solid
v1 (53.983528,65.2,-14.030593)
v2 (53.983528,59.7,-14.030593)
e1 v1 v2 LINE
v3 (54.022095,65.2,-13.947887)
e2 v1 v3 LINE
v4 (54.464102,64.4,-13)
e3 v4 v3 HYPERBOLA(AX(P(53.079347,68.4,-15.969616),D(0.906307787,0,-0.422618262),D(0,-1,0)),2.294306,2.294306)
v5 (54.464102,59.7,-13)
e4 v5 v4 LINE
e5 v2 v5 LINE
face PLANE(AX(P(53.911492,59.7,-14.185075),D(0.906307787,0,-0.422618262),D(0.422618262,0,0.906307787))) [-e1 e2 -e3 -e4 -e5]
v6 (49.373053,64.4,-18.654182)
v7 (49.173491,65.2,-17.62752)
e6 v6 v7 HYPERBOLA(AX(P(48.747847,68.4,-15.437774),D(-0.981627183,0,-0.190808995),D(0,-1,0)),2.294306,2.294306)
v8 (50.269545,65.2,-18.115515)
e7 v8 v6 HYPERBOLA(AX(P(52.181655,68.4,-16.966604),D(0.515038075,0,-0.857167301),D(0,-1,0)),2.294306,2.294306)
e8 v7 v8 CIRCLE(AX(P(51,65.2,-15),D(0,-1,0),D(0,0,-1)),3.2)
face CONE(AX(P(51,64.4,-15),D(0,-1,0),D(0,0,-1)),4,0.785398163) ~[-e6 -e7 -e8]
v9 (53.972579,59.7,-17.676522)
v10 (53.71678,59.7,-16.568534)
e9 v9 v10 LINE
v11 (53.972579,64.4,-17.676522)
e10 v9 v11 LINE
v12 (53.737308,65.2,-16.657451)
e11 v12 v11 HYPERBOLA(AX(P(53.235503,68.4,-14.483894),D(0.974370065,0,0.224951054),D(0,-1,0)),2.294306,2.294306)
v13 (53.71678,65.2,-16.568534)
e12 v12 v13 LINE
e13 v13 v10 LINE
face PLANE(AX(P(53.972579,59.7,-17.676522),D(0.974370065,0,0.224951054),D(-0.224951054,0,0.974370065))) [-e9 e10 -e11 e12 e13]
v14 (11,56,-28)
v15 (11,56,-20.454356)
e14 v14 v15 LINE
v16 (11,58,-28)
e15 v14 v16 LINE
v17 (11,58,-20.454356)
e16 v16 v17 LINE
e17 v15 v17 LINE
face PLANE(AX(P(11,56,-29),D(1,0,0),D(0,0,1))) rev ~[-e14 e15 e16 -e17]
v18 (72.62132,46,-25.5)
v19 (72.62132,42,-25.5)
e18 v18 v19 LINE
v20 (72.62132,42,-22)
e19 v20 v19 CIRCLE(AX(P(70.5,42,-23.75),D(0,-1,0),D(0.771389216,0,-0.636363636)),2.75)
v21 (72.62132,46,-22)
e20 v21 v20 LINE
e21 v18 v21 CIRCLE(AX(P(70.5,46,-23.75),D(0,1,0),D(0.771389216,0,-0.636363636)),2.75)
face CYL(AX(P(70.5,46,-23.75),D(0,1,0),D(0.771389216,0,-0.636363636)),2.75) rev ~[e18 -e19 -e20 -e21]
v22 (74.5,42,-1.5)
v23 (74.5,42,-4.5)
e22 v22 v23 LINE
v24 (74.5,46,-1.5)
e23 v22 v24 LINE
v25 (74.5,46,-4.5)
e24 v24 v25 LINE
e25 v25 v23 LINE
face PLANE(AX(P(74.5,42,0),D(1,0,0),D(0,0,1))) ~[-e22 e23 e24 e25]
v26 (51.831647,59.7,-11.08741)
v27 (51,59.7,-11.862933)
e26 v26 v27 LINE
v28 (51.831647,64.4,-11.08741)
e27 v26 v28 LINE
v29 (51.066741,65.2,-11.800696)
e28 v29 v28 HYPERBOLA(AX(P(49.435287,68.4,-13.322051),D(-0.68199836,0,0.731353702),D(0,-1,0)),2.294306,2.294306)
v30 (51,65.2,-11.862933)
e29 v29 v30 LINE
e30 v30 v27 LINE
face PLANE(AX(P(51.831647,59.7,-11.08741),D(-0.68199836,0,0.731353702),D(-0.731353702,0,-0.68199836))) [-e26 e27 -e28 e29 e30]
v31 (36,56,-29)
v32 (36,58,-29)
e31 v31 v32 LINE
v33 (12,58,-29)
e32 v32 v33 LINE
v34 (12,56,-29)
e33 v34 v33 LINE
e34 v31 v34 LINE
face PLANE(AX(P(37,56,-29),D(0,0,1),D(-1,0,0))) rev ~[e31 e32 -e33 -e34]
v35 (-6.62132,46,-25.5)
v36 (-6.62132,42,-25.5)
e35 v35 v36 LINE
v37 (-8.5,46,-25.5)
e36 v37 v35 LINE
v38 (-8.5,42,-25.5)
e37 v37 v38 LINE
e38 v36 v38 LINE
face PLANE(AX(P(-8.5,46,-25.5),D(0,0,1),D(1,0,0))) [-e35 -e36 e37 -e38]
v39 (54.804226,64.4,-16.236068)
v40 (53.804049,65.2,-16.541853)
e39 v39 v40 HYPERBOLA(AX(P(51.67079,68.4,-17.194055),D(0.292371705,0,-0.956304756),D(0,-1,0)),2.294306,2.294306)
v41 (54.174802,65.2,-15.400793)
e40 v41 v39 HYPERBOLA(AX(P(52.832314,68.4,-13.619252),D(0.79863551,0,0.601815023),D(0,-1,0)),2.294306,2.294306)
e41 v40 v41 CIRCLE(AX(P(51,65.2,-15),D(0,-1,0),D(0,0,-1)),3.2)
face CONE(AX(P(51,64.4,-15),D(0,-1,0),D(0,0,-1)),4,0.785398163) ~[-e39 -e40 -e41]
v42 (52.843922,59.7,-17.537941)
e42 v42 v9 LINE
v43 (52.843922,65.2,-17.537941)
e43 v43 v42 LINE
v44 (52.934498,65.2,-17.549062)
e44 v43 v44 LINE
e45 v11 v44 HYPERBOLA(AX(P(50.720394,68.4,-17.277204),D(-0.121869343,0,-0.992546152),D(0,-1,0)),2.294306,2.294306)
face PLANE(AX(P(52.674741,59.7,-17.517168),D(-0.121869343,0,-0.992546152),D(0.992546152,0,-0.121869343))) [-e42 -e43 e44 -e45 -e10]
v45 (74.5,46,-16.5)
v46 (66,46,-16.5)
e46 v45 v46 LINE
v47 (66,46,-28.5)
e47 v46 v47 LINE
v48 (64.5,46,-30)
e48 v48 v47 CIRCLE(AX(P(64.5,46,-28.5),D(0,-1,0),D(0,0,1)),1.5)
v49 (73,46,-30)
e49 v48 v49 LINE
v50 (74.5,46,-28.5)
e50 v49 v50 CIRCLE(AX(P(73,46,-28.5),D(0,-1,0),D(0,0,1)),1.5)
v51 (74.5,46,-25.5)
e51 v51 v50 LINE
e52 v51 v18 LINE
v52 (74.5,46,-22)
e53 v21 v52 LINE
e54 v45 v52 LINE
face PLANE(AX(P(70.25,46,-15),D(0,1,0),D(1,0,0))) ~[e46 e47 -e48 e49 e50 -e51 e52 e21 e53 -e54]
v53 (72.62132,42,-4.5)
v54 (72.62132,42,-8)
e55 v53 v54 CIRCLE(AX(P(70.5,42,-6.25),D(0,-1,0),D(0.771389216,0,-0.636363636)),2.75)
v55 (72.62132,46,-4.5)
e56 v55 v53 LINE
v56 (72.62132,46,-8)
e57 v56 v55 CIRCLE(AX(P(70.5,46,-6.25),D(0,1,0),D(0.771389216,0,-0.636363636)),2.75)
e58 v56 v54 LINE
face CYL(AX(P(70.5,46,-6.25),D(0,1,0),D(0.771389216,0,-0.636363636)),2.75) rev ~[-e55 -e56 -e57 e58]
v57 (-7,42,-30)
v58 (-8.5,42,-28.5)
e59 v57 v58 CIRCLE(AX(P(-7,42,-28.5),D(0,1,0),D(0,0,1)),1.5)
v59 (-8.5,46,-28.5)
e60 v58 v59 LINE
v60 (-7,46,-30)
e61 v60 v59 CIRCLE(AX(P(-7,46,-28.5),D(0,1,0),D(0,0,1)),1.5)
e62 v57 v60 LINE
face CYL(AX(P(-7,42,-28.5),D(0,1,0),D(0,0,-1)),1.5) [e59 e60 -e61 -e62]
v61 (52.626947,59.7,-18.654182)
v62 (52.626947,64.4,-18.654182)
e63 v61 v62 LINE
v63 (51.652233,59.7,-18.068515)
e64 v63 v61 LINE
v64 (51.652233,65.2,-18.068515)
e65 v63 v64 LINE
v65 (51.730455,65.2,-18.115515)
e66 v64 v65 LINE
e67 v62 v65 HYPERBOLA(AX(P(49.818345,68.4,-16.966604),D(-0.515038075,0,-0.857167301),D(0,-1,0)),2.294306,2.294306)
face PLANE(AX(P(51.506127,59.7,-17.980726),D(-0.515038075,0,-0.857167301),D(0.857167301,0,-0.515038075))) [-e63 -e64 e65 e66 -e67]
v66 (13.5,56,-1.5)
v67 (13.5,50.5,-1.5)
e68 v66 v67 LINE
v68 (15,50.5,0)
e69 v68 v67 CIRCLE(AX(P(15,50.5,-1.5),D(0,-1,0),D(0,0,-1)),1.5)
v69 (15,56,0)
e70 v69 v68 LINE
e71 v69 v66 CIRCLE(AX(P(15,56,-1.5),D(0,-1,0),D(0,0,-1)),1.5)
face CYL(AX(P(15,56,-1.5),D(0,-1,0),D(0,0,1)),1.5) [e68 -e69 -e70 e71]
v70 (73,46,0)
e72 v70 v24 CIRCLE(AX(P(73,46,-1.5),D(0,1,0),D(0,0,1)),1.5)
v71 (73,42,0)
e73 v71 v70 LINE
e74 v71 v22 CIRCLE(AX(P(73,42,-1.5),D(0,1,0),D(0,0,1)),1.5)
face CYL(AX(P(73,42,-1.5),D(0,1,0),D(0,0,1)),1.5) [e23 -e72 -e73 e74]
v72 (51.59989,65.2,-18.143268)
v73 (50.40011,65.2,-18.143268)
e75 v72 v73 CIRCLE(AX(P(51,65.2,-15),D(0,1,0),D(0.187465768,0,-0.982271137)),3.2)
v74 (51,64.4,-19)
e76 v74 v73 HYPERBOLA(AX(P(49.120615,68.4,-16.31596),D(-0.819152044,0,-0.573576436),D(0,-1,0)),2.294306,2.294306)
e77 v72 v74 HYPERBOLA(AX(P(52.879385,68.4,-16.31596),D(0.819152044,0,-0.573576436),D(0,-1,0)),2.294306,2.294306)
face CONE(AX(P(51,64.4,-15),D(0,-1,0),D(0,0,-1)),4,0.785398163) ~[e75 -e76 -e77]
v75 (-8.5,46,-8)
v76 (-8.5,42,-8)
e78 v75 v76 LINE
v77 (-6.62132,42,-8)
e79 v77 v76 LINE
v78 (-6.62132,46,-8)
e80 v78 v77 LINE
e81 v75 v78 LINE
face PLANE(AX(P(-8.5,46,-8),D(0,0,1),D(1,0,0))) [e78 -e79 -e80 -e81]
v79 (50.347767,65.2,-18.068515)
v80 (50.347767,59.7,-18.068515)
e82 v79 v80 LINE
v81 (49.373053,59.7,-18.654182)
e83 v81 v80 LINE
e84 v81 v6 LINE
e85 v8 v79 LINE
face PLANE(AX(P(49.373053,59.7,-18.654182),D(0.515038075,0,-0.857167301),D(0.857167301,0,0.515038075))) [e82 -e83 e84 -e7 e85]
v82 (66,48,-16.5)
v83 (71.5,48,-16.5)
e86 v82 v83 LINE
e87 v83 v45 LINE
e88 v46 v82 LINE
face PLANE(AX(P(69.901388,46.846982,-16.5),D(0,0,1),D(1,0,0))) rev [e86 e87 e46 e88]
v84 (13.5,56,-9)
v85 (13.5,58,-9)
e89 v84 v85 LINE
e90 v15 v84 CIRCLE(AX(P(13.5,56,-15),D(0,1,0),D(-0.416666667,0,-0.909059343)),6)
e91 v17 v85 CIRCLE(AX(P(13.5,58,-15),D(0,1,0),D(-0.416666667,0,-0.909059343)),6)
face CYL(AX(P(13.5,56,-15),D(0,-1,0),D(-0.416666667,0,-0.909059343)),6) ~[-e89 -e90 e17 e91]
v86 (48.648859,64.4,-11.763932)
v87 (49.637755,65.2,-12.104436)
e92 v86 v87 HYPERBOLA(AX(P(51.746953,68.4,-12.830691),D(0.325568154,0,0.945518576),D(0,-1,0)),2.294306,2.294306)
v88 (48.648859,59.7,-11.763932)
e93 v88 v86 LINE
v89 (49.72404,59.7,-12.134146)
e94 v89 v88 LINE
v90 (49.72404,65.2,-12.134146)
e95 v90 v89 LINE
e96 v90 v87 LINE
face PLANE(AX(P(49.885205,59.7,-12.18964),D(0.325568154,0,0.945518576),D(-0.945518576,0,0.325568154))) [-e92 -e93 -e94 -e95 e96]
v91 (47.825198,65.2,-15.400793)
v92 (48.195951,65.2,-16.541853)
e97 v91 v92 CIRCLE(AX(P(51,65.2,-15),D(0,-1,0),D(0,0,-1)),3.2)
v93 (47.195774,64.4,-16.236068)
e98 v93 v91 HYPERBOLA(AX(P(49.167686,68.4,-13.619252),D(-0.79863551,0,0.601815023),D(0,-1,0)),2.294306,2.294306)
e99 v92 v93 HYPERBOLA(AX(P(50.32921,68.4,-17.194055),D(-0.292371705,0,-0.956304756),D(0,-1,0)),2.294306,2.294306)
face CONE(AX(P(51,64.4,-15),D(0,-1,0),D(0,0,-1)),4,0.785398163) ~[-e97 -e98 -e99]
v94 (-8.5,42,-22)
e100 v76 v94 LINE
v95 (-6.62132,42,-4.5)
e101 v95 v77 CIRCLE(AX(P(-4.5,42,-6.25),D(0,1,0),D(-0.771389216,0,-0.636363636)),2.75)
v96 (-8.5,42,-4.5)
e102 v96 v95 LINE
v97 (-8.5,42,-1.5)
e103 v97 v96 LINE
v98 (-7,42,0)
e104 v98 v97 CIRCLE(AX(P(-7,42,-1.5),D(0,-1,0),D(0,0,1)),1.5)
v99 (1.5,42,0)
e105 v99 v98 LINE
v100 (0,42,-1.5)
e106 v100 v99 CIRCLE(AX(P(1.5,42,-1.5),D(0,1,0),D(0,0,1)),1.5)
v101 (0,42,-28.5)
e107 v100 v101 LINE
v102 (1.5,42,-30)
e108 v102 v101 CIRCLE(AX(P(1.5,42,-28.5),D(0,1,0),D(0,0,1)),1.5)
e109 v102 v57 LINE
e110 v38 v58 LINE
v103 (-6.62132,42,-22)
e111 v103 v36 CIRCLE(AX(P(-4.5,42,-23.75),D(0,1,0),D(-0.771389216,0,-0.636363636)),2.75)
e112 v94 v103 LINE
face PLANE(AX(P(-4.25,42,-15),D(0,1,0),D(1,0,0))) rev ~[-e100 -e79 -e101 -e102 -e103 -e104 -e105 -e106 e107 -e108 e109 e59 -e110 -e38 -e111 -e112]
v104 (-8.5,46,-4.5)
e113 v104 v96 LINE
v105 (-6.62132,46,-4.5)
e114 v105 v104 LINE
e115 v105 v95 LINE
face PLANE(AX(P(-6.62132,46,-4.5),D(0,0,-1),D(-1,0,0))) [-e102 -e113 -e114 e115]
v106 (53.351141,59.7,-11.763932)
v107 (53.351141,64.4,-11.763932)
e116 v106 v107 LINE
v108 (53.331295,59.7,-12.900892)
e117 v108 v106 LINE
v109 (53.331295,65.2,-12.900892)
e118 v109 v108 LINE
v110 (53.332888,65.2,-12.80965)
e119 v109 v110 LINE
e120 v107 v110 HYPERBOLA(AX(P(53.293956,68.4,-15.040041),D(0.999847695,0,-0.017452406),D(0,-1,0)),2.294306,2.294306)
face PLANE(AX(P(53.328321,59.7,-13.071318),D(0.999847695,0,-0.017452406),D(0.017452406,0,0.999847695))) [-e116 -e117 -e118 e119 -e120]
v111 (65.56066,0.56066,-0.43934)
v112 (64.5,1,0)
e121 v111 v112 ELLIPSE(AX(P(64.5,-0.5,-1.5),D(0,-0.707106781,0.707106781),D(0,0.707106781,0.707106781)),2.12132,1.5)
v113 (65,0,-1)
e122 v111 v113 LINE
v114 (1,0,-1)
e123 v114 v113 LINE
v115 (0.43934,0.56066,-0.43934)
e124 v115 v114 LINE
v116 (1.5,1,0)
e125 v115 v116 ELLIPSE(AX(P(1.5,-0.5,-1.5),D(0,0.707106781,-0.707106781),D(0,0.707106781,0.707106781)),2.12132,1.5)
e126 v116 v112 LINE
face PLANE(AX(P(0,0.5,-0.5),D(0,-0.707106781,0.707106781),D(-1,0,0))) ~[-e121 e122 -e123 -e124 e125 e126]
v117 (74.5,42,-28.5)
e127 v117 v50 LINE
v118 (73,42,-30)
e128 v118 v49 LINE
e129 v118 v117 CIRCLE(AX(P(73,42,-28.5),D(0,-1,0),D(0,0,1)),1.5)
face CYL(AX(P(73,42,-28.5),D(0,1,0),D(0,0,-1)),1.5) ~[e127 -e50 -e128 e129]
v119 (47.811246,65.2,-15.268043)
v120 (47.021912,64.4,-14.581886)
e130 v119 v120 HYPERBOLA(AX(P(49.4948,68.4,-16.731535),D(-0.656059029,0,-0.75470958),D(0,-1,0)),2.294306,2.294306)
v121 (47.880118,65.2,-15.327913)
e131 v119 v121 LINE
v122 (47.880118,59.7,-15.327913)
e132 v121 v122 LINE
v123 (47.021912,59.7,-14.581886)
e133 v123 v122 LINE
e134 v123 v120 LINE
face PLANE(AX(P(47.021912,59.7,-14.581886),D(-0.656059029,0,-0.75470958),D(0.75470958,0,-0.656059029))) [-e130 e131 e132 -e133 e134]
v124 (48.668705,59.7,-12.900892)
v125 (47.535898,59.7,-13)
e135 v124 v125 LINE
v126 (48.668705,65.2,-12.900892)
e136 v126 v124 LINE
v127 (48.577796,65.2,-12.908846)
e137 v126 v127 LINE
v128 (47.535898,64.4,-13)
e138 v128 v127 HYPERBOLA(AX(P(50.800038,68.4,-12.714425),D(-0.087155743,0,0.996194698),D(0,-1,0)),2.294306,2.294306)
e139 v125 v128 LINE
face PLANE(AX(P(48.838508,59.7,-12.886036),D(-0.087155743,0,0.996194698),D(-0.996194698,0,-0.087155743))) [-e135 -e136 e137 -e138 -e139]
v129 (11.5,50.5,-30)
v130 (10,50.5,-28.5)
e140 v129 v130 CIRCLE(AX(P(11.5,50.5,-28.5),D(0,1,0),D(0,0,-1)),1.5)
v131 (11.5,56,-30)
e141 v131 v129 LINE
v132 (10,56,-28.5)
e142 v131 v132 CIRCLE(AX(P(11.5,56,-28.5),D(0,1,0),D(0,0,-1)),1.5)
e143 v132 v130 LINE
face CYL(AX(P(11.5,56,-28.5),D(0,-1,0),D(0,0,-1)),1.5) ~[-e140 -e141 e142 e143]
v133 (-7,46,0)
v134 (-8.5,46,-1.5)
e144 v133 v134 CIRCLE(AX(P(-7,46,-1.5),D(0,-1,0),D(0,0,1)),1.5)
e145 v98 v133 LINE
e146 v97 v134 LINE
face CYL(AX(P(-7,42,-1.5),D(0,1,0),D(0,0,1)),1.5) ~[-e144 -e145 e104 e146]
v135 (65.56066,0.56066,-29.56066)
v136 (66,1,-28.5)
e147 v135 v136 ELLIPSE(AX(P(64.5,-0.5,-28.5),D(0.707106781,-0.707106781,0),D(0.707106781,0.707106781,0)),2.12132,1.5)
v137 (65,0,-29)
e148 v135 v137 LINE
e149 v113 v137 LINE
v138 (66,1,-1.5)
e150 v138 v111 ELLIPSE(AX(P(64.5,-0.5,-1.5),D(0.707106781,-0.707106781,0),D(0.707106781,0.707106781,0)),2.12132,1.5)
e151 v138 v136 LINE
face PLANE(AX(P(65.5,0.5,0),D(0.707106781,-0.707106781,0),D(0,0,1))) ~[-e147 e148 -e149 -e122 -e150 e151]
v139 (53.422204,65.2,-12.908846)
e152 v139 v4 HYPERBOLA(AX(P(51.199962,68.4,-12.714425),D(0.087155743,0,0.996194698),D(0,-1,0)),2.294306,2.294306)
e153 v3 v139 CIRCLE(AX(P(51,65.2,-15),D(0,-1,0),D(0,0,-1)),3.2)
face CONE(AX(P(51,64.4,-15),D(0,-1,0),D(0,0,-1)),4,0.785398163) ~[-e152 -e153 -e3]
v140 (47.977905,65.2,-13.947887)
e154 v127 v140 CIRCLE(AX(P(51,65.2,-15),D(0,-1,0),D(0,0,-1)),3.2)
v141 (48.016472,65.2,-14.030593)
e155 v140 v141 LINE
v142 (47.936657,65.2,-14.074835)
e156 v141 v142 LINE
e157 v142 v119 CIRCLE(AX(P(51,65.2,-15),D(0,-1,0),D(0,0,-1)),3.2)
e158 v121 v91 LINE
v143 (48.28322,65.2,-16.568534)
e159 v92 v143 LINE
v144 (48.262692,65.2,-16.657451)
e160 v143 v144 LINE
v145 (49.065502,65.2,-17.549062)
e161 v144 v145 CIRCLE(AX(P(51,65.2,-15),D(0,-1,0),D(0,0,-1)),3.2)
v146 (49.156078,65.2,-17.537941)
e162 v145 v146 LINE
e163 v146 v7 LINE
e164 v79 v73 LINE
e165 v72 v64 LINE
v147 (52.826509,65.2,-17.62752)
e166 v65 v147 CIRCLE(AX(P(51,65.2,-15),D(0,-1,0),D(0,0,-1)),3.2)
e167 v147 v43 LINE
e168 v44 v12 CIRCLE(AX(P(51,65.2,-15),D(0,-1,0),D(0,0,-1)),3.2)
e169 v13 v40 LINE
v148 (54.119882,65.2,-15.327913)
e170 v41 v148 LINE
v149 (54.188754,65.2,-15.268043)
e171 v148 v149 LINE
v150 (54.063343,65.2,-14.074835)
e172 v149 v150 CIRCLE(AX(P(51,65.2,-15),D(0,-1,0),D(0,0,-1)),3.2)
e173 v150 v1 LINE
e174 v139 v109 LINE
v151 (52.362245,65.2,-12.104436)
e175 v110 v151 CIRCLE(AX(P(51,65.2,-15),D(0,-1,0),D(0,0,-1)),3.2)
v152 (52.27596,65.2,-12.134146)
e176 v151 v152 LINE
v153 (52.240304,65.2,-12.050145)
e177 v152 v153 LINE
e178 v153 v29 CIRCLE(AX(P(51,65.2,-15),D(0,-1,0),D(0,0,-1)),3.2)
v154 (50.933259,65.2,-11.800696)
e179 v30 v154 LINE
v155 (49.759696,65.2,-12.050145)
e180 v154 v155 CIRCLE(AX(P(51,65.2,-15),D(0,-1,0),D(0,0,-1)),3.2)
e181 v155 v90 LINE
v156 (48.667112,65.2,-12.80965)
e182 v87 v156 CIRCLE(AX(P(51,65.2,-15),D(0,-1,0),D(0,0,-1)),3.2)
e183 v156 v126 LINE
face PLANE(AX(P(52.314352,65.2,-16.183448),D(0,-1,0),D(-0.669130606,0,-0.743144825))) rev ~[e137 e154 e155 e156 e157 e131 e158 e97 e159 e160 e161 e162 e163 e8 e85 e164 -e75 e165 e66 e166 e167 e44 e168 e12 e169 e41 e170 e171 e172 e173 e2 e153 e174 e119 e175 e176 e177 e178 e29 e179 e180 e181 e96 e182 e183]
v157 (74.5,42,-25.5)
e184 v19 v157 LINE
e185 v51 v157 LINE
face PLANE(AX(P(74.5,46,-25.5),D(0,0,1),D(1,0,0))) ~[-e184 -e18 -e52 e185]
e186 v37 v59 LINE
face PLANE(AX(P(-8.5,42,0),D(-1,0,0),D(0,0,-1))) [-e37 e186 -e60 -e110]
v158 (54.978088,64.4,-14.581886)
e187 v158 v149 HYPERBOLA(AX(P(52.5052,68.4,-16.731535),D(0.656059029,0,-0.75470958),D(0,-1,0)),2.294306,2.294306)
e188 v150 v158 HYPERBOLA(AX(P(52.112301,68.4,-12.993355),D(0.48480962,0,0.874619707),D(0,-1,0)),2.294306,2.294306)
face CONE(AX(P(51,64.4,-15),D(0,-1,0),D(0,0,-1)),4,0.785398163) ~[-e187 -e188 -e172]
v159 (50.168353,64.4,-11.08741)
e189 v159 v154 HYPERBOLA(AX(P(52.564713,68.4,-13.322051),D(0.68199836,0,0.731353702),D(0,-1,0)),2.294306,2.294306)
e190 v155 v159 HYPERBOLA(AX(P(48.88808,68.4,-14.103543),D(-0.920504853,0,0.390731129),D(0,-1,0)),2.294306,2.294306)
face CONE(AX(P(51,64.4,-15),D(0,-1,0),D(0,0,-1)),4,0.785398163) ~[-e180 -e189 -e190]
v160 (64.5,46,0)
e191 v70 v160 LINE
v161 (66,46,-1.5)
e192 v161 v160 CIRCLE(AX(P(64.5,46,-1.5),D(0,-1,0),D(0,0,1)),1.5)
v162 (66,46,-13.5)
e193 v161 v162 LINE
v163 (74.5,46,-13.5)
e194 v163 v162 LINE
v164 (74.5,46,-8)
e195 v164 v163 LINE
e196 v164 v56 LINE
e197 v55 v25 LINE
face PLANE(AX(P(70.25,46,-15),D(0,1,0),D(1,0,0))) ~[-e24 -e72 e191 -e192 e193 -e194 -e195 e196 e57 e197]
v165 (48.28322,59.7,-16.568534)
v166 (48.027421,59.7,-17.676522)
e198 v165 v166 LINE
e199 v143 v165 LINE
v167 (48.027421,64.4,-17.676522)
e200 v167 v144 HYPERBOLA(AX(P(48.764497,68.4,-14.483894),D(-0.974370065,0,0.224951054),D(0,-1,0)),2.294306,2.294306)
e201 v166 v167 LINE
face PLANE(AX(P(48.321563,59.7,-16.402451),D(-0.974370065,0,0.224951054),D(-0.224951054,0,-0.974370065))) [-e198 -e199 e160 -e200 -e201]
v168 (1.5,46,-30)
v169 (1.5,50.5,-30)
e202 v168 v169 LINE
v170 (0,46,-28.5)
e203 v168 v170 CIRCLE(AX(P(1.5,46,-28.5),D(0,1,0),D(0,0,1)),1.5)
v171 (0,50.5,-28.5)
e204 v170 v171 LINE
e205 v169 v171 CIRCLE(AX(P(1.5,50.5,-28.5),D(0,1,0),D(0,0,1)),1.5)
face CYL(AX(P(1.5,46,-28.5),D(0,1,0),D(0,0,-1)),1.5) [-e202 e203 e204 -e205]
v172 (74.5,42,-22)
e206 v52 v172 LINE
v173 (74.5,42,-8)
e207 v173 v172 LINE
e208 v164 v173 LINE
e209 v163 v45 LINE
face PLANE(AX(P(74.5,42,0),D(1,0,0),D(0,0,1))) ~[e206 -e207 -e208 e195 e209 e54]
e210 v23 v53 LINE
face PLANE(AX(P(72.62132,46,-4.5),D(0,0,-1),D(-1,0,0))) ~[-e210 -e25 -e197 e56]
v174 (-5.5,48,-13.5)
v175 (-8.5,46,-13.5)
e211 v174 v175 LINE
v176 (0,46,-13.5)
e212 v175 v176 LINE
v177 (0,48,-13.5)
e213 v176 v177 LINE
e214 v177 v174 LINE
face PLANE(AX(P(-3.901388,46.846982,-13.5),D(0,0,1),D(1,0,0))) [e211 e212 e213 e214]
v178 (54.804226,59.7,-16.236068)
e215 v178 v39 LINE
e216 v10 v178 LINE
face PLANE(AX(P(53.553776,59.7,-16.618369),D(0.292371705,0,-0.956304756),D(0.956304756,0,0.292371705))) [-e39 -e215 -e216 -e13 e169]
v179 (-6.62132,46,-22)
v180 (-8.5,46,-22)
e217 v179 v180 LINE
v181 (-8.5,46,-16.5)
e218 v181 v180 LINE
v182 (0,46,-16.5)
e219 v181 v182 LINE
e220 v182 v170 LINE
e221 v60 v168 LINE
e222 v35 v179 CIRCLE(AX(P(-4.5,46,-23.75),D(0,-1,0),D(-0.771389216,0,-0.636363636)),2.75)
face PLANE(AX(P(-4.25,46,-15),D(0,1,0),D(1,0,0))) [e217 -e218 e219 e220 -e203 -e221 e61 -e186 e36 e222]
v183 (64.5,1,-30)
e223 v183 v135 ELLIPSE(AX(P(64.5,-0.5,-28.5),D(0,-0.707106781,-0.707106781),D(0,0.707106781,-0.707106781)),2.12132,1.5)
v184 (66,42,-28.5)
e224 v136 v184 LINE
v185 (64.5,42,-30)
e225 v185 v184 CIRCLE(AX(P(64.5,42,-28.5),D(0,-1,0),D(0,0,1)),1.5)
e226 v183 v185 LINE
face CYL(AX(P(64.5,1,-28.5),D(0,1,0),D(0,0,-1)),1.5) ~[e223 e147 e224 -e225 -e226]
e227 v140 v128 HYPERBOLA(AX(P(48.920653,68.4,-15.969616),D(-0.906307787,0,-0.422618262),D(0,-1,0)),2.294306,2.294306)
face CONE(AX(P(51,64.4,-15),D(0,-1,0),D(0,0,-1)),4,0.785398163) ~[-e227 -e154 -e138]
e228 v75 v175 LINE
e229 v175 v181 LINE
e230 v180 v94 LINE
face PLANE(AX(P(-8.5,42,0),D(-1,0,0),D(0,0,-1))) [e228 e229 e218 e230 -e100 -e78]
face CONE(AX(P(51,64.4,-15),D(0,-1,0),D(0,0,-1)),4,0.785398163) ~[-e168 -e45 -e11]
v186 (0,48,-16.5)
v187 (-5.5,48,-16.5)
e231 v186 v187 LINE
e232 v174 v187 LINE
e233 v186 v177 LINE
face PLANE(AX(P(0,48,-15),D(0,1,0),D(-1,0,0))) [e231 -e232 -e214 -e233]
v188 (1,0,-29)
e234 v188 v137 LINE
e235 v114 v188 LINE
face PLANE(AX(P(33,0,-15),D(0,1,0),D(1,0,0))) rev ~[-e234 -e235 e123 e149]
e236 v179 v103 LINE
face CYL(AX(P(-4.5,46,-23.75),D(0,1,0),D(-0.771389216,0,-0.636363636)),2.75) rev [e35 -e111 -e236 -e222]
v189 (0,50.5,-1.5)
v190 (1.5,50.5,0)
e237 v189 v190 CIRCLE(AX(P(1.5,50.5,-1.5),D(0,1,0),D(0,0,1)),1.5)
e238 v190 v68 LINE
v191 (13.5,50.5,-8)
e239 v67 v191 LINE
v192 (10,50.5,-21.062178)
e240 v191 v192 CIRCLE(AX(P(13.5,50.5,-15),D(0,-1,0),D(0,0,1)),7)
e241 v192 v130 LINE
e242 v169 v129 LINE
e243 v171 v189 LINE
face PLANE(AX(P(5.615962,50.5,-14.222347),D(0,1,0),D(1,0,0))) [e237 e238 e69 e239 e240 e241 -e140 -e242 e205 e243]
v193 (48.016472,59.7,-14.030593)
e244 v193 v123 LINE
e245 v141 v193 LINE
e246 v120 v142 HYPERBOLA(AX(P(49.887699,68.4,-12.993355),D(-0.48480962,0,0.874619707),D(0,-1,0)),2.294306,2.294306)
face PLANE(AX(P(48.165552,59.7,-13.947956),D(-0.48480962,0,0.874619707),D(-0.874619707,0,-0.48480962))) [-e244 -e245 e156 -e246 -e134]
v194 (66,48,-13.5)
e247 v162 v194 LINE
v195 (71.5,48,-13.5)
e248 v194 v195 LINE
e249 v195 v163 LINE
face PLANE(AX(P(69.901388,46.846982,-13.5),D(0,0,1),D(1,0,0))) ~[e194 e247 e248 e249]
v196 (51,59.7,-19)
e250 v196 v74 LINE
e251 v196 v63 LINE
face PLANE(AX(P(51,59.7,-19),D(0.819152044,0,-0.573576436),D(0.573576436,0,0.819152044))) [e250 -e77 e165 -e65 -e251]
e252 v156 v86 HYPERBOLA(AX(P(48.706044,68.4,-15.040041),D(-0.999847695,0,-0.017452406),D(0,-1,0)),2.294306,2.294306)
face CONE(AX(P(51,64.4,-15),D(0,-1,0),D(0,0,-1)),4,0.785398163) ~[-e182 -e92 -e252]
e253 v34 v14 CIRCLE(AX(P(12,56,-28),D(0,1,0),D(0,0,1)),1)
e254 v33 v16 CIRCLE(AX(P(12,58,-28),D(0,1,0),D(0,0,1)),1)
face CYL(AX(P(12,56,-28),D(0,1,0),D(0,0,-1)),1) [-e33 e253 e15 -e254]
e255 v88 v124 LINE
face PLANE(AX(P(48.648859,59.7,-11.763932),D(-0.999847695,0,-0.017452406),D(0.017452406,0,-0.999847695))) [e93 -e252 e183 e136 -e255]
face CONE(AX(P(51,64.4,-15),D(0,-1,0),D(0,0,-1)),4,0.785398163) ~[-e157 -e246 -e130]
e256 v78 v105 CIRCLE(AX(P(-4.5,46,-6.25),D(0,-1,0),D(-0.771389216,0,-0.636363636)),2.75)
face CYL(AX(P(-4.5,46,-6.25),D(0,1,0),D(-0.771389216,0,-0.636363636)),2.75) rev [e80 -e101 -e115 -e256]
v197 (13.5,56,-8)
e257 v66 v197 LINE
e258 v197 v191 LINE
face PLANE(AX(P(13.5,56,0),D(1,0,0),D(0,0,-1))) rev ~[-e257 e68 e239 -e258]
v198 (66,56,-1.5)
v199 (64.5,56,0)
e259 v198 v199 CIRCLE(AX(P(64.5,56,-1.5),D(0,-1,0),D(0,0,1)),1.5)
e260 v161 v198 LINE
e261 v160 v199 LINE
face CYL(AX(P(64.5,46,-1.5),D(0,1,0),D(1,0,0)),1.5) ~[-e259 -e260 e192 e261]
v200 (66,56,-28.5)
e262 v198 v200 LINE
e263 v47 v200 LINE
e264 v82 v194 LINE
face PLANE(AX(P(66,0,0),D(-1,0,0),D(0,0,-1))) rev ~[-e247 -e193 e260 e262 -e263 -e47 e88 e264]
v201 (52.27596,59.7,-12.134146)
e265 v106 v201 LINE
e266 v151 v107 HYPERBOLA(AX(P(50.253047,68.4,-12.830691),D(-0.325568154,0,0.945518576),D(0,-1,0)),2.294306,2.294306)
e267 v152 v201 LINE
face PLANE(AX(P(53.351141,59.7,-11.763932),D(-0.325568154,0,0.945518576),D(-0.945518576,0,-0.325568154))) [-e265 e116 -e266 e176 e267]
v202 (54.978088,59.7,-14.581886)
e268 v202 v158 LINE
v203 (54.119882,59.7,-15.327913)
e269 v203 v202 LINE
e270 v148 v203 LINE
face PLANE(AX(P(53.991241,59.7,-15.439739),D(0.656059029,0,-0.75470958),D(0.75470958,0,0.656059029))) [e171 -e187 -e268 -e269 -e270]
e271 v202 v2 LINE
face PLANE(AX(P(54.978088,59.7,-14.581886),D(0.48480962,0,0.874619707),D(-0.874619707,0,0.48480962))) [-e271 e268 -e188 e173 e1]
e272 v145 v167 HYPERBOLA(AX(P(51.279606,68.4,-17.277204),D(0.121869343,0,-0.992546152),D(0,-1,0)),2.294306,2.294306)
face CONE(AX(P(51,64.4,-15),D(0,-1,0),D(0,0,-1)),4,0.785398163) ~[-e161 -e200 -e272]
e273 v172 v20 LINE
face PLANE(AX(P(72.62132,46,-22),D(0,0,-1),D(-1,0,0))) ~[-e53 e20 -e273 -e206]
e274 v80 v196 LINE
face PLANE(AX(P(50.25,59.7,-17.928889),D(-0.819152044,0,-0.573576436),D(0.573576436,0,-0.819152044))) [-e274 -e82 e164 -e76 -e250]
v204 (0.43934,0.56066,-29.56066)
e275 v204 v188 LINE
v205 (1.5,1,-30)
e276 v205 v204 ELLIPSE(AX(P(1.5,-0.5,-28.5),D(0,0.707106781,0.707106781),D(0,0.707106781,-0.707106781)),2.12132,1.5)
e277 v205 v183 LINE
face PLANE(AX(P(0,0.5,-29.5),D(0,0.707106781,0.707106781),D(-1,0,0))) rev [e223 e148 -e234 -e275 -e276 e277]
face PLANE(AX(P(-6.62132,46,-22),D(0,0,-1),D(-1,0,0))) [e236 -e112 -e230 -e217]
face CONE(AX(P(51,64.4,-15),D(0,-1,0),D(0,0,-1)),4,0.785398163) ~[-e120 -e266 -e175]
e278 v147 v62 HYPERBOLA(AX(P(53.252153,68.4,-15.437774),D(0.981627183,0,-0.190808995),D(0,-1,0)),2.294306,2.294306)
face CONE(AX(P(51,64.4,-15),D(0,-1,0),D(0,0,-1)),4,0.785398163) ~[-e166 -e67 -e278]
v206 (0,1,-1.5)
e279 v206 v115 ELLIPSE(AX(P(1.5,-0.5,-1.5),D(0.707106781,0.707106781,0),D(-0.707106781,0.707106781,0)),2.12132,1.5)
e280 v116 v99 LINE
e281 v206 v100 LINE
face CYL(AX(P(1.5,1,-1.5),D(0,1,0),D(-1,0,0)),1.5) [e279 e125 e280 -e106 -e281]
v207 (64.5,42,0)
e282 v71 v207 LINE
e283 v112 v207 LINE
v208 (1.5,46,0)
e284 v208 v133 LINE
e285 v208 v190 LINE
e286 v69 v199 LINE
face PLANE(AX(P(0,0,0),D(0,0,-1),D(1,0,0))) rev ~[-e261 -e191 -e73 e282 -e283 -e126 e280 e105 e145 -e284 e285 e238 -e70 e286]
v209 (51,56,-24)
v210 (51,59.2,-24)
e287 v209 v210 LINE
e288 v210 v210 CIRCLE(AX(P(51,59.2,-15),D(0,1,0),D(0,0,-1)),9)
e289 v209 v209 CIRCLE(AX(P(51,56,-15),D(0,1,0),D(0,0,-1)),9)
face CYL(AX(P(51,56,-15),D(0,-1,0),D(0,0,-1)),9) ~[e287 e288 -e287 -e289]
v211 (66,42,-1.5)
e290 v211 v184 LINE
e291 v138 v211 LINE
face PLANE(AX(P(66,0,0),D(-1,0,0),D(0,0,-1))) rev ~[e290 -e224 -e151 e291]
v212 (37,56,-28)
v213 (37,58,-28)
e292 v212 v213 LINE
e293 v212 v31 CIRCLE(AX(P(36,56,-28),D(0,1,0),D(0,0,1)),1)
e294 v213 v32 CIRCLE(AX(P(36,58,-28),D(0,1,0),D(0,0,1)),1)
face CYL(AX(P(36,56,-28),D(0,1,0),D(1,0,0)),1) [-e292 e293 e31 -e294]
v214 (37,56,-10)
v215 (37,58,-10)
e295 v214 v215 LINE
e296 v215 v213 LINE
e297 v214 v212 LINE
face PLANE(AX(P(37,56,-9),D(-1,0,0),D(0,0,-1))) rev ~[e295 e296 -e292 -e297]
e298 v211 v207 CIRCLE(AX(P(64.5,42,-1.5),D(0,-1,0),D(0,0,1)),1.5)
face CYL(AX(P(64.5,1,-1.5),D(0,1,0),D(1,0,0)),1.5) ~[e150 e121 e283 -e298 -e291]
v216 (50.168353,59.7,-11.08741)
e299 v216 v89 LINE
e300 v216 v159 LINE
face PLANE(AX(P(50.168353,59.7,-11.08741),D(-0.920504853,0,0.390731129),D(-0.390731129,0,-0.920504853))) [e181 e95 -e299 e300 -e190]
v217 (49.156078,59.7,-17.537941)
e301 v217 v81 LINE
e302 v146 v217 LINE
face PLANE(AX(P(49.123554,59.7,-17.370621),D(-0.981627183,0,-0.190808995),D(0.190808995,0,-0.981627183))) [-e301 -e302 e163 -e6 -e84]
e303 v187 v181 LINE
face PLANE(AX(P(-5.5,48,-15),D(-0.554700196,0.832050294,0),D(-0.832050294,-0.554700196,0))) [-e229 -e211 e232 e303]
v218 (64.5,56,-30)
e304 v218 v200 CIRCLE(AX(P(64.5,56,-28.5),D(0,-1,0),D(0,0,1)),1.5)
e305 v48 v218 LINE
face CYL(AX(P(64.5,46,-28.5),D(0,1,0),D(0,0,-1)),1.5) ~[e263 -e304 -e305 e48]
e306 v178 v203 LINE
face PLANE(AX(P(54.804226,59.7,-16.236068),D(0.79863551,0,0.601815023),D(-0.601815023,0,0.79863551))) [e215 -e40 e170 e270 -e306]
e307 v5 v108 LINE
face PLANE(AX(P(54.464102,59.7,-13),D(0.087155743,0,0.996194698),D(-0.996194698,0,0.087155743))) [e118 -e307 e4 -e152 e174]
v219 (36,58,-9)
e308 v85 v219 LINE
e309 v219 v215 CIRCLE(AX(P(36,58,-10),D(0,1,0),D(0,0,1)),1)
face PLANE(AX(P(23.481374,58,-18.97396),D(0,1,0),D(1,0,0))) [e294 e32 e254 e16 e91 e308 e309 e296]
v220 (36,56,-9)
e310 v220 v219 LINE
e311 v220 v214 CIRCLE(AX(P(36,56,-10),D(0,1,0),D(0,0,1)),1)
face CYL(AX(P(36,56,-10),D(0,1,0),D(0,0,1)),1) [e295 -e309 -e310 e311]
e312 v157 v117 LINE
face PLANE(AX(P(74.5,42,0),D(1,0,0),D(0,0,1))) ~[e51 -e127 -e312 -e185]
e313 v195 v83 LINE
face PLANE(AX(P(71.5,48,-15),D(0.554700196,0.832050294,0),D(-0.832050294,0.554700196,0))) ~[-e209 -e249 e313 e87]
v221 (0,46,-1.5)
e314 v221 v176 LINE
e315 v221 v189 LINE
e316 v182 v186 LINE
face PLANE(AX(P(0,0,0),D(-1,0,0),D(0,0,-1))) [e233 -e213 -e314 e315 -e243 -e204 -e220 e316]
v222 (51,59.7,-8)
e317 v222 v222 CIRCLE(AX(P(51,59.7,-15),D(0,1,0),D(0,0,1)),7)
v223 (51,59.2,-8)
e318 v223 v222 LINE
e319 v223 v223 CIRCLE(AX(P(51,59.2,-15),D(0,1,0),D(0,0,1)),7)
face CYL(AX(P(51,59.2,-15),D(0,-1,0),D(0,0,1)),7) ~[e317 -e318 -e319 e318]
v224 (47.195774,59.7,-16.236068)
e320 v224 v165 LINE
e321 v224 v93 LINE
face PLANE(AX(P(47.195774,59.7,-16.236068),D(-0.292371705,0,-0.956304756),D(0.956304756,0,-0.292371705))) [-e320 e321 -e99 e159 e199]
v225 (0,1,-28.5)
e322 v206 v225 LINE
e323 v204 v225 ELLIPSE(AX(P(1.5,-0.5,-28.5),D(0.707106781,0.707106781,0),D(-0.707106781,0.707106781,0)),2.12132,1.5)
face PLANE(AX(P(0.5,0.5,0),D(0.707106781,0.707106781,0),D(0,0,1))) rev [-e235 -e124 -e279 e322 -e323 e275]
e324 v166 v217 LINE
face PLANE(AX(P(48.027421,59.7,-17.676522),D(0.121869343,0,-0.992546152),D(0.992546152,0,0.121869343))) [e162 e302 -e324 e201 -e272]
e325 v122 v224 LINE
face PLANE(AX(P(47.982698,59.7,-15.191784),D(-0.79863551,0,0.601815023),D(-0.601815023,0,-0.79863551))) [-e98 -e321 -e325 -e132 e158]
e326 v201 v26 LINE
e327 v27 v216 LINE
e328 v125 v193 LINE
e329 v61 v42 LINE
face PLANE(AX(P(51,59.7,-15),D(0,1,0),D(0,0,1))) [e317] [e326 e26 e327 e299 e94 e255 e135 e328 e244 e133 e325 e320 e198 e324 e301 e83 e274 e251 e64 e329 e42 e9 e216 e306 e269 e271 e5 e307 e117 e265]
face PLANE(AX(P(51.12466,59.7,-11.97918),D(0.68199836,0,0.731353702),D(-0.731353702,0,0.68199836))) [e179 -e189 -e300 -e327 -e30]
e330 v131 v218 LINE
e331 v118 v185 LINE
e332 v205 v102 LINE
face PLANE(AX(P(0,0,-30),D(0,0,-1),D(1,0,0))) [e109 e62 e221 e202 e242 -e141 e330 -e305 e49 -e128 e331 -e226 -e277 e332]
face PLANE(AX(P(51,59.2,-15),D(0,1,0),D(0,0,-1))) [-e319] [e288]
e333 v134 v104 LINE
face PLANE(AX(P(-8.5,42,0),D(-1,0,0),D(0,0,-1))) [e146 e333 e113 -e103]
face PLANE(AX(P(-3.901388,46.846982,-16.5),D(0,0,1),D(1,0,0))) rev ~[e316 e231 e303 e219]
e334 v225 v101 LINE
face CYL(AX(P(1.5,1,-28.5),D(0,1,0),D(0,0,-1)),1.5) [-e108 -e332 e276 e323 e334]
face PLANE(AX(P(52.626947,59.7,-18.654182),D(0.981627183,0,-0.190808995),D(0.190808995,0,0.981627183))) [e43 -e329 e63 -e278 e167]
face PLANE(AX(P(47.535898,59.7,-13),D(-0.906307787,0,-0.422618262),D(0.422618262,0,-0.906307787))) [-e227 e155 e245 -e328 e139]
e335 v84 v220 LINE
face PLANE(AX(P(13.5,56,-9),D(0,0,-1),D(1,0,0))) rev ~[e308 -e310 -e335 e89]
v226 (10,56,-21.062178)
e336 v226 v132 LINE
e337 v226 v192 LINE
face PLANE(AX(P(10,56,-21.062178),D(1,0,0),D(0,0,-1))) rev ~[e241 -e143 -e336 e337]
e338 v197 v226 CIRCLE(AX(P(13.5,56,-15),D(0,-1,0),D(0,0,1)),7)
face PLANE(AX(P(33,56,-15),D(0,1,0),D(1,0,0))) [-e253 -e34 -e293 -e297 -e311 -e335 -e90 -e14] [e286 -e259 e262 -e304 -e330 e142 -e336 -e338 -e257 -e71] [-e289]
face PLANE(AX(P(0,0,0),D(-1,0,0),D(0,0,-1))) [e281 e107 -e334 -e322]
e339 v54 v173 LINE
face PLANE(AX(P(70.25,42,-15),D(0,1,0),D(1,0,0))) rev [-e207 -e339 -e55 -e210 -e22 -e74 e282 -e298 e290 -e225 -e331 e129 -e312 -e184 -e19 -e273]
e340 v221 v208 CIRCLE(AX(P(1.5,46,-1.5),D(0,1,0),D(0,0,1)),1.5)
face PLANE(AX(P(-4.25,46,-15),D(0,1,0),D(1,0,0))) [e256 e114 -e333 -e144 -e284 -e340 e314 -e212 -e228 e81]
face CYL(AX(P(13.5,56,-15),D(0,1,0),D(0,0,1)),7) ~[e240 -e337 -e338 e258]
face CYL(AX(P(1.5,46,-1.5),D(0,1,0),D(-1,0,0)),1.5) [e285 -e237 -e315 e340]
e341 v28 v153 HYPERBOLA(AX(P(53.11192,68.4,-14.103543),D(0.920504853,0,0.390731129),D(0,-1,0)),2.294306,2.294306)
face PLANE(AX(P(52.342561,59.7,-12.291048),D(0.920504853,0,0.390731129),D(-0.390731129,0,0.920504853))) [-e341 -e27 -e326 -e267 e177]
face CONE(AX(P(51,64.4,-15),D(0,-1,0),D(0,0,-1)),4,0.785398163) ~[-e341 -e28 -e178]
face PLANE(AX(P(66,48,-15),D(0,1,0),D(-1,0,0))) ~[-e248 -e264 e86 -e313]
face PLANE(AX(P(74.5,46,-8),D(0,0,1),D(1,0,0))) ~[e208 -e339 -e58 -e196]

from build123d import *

# Parameters (mm, degrees)
SKETCH1_W            = 66
SKETCH1_H            = 30
BOSS_EXTRUDE1_DEPTH  = 56
CHAMFER1_SIZE        = 1
SKETCH3_W            = 8.5
SKETCH3_H            = 30
BOSS_EXTRUDE2_DEPTH  = 4
CUT_EXTRUDE1_REACH   = 87.86
BOSS_EXTRUDE3_DEPTH  = 1.5
FILLET2_R            = 1.5
FILLET2_OF_MIRROR1_R = 1.5
CUT_EXTRUDE2_DEPTH   = 5.5
FILLET3_R            = 1.5
BOSS_EXTRUDE4_DEPTH  = 2
FILLET4_R            = 1
SKETCH8_R            = 9
BOSS_EXTRUDE5_DEPTH  = 3.2
SKETCH9_R            = 7
BOSS_EXTRUDE6_DEPTH  = 0.5
BOSS_EXTRUDE8_DEPTH  = 5.5
CIRPATTERN1_COUNT    = 15


with BuildPart() as part:
    # Sketch1 → Boss-Extrude1 (new body)
    with BuildSketch(Plane(origin=(0, 0, 0), x_dir=(1, 0, 0), z_dir=(0, 1, 0))):
        with Locations((33, 15)):
            Rectangle(SKETCH1_W, SKETCH1_H)
    extrude(amount=BOSS_EXTRUDE1_DEPTH)

    # Chamfer1
    chamfer1_edges = [part.edges().sort_by_distance(p)[0] for p in [
        (33, 0, -30),
        (66, 0, -15),
        (33, 0, 0),
        (0, 0, -15),
    ]]
    chamfer(chamfer1_edges, length=CHAMFER1_SIZE)

    # Sketch3 → Boss-Extrude2 (add)
    with BuildSketch(Plane(origin=(0, 42, 0), x_dir=(1, 0, 0), z_dir=(0, 1, 0))):
        with Locations((-4.25, 15)):
            Rectangle(SKETCH3_W, SKETCH3_H)
    boss_extrude2 = extrude(amount=BOSS_EXTRUDE2_DEPTH)

    # Sketch4 → Cut-Extrude1 (cut, up to next)
    with BuildSketch(Plane(origin=(0, 46, 0), x_dir=(1, 0, 0), z_dir=(0, 1, 0)), mode=Mode.PRIVATE) as cut_extrude1_sk1:
        with BuildLine():
            Line((-8.5, 8), (-6.621320344, 8))
            ThreePointArc((-6.621320344, 8), (-1.75, 6.25), (-6.621320344, 4.5))
            Line((-6.621320344, 4.5), (-8.5, 4.5))
            Line((-8.5, 4.5), (-8.5, 8))
        make_face()
    cut_extrude1_tool1 = extrude(cut_extrude1_sk1.sketch, amount=-CUT_EXTRUDE1_REACH, mode=Mode.PRIVATE) & part.part
    # Sketch4 → Cut-Extrude1 (cut, up to next)
    with BuildSketch(Plane(origin=(0, 46, 0), x_dir=(1, 0, 0), z_dir=(0, 1, 0)), mode=Mode.PRIVATE) as cut_extrude1_sk2:
        with BuildLine():
            Line((-8.5, 25.5), (-6.621320344, 25.5))
            ThreePointArc((-6.621320344, 25.5), (-1.75, 23.75), (-6.621320344, 22))
            Line((-6.621320344, 22), (-8.5, 22))
            Line((-8.5, 22), (-8.5, 25.5))
        make_face()
    cut_extrude1_tool2 = extrude(cut_extrude1_sk2.sketch, amount=-CUT_EXTRUDE1_REACH, mode=Mode.PRIVATE) & part.part
    cut_extrude1_1 = cut_extrude1_tool1.solids().sort_by_distance((-5.074136, 46, -6.25))[0]
    add(cut_extrude1_1, mode=Mode.SUBTRACT)
    cut_extrude1_2 = cut_extrude1_tool2.solids().sort_by_distance((-5.074136, 46, -23.75))[0]
    add(cut_extrude1_2, mode=Mode.SUBTRACT)
    cut_extrude1 = cut_extrude1_1 + cut_extrude1_2  # Cut-Extrude1 as one shape, for the pattern or mirror that repeats it

    # Sketch5 → Boss-Extrude3 (add, symmetric)
    with BuildSketch(Plane.XY.offset(-15)):
        Polygon((-8.5, 46), (0, 46), (0, 48), (-5.5, 48), align=None)
    boss_extrude3 = extrude(amount=BOSS_EXTRUDE3_DEPTH, both=True)

    # Fillet2
    fillet2_edges = [part.edges().sort_by_distance(p)[0] for p in [
        (-8.5, 44, -30),
        (-8.5, 44, 0),
    ]]
    fillet(fillet2_edges, radius=FILLET2_R)

    # Mirror1: Boss-Extrude2, Cut-Extrude1, Boss-Extrude3 across plane
    add(boss_extrude2.mirror(Plane.ZY.offset(-33)))
    add(cut_extrude1.mirror(Plane.ZY.offset(-33)), mode=Mode.SUBTRACT)
    add(boss_extrude3.mirror(Plane.ZY.offset(-33)))

    # Fillet2 of Mirror1
    fillet2_of_mirror1_edges = [part.edges().sort_by_distance(p)[0] for p in [
        (74.5, 44, -30),
        (74.5, 44, 0),
    ]]
    fillet(fillet2_of_mirror1_edges, radius=FILLET2_OF_MIRROR1_R)

    # Sketch6 → Cut-Extrude2 (cut)
    with BuildSketch(Plane(origin=(0, 56, 0), x_dir=(1, 0, 0), z_dir=(0, 1, 0))):
        with BuildLine():
            Line((13.5, 0), (13.5, 8))
            ThreePointArc((13.5, 8), (6.738519216, 13.188266684), (10, 21.062177826))
            Line((10, 21.062177826), (10, 30))
            Line((10, 30), (0, 30))
            Line((0, 30), (0, 0))
            Line((0, 0), (13.5, 0))
        make_face()
    extrude(amount=-CUT_EXTRUDE2_DEPTH, mode=Mode.SUBTRACT)

    # Fillet3
    fillet3_edges = [part.edges().sort_by_distance(p)[0] for p in [
        (66, 21.5, 0),
        (66, 21.5, -30),
        (0, 48.25, -30),
        (0, 48.25, 0),
        (10, 53.25, -30),
        (13.5, 53.25, 0),
        (0, 21.5, -30),
        (0, 21.5, 0),
        (66, 51, -30),
        (66, 51, 0),
    ]]
    fillet(fillet3_edges, radius=FILLET3_R)

    # Sketch7 → Boss-Extrude4 (add)
    with BuildSketch(Plane(origin=(0, 56, 0), x_dir=(1, 0, 0), z_dir=(0, 1, 0))):
        with BuildLine():
            Line((13.5, 9), (37, 9))
            Line((37, 9), (37, 29))
            Line((37, 29), (11, 29))
            Line((11, 29), (11, 20.454356057))
            ThreePointArc((11, 20.454356057), (7.637997938, 13.720573633), (13.5, 9))
        make_face()
    extrude(amount=BOSS_EXTRUDE4_DEPTH)

    # Fillet4
    fillet4_edges = [part.edges().sort_by_distance(p)[0] for p in [
        (37, 57, -9),
        (37, 57, -29),
        (11, 57, -29),
    ]]
    fillet(fillet4_edges, radius=FILLET4_R)

    # Sketch8 → Boss-Extrude5 (add)
    with BuildSketch(Plane(origin=(0, 56, 0), x_dir=(1, 0, 0), z_dir=(0, 1, 0))):
        with Locations(Location((51, 15, 0), (0, 0, 90))):
            Circle(SKETCH8_R)
    extrude(amount=BOSS_EXTRUDE5_DEPTH)

    # Sketch9 → Boss-Extrude6 (add)
    with BuildSketch(Plane(origin=(0, 59.2, 0), x_dir=(1, 0, 0), z_dir=(0, 1, 0))):
        with Locations(Location((51, 15, 0), (0, 0, 270))):
            Circle(SKETCH9_R)
    extrude(amount=BOSS_EXTRUDE6_DEPTH)

    # Sketch10 → Boss-Extrude8 (add)
    with BuildSketch(Plane(origin=(0, 59.7, 0), x_dir=(1, 0, 0), z_dir=(0, 1, 0))):
        Polygon((50.25, 17.928888995), (51, 19), (51.75, 17.928888995), (51.75, 15), (50.25, 15), align=None)
    boss_extrude8 = extrude(amount=BOSS_EXTRUDE8_DEPTH)

    # CirPattern1: Boss-Extrude8 ×15 about axis
    cirpattern1_axis = Axis((51, 0, -15), (0, 1, 0))
    for i in range(1, CIRPATTERN1_COUNT):
        add(boss_extrude8.rotate(cirpattern1_axis, i * 360 / CIRPATTERN1_COUNT))

    # Sketch13 → Cut-Revolve1 (revolve, cut)
    with BuildSketch(Plane(origin=(51, 0, 0), x_dir=(0, -1, 0), z_dir=(-1, 0, 0))):
        Polygon((-65.2, -18.2), (-65.2, -19), (-64.4, -19), align=None)
    revolve(axis=Axis((51, 66.624672481, -15), (0, -1, 0)), mode=Mode.SUBTRACT)


solid = part.part
